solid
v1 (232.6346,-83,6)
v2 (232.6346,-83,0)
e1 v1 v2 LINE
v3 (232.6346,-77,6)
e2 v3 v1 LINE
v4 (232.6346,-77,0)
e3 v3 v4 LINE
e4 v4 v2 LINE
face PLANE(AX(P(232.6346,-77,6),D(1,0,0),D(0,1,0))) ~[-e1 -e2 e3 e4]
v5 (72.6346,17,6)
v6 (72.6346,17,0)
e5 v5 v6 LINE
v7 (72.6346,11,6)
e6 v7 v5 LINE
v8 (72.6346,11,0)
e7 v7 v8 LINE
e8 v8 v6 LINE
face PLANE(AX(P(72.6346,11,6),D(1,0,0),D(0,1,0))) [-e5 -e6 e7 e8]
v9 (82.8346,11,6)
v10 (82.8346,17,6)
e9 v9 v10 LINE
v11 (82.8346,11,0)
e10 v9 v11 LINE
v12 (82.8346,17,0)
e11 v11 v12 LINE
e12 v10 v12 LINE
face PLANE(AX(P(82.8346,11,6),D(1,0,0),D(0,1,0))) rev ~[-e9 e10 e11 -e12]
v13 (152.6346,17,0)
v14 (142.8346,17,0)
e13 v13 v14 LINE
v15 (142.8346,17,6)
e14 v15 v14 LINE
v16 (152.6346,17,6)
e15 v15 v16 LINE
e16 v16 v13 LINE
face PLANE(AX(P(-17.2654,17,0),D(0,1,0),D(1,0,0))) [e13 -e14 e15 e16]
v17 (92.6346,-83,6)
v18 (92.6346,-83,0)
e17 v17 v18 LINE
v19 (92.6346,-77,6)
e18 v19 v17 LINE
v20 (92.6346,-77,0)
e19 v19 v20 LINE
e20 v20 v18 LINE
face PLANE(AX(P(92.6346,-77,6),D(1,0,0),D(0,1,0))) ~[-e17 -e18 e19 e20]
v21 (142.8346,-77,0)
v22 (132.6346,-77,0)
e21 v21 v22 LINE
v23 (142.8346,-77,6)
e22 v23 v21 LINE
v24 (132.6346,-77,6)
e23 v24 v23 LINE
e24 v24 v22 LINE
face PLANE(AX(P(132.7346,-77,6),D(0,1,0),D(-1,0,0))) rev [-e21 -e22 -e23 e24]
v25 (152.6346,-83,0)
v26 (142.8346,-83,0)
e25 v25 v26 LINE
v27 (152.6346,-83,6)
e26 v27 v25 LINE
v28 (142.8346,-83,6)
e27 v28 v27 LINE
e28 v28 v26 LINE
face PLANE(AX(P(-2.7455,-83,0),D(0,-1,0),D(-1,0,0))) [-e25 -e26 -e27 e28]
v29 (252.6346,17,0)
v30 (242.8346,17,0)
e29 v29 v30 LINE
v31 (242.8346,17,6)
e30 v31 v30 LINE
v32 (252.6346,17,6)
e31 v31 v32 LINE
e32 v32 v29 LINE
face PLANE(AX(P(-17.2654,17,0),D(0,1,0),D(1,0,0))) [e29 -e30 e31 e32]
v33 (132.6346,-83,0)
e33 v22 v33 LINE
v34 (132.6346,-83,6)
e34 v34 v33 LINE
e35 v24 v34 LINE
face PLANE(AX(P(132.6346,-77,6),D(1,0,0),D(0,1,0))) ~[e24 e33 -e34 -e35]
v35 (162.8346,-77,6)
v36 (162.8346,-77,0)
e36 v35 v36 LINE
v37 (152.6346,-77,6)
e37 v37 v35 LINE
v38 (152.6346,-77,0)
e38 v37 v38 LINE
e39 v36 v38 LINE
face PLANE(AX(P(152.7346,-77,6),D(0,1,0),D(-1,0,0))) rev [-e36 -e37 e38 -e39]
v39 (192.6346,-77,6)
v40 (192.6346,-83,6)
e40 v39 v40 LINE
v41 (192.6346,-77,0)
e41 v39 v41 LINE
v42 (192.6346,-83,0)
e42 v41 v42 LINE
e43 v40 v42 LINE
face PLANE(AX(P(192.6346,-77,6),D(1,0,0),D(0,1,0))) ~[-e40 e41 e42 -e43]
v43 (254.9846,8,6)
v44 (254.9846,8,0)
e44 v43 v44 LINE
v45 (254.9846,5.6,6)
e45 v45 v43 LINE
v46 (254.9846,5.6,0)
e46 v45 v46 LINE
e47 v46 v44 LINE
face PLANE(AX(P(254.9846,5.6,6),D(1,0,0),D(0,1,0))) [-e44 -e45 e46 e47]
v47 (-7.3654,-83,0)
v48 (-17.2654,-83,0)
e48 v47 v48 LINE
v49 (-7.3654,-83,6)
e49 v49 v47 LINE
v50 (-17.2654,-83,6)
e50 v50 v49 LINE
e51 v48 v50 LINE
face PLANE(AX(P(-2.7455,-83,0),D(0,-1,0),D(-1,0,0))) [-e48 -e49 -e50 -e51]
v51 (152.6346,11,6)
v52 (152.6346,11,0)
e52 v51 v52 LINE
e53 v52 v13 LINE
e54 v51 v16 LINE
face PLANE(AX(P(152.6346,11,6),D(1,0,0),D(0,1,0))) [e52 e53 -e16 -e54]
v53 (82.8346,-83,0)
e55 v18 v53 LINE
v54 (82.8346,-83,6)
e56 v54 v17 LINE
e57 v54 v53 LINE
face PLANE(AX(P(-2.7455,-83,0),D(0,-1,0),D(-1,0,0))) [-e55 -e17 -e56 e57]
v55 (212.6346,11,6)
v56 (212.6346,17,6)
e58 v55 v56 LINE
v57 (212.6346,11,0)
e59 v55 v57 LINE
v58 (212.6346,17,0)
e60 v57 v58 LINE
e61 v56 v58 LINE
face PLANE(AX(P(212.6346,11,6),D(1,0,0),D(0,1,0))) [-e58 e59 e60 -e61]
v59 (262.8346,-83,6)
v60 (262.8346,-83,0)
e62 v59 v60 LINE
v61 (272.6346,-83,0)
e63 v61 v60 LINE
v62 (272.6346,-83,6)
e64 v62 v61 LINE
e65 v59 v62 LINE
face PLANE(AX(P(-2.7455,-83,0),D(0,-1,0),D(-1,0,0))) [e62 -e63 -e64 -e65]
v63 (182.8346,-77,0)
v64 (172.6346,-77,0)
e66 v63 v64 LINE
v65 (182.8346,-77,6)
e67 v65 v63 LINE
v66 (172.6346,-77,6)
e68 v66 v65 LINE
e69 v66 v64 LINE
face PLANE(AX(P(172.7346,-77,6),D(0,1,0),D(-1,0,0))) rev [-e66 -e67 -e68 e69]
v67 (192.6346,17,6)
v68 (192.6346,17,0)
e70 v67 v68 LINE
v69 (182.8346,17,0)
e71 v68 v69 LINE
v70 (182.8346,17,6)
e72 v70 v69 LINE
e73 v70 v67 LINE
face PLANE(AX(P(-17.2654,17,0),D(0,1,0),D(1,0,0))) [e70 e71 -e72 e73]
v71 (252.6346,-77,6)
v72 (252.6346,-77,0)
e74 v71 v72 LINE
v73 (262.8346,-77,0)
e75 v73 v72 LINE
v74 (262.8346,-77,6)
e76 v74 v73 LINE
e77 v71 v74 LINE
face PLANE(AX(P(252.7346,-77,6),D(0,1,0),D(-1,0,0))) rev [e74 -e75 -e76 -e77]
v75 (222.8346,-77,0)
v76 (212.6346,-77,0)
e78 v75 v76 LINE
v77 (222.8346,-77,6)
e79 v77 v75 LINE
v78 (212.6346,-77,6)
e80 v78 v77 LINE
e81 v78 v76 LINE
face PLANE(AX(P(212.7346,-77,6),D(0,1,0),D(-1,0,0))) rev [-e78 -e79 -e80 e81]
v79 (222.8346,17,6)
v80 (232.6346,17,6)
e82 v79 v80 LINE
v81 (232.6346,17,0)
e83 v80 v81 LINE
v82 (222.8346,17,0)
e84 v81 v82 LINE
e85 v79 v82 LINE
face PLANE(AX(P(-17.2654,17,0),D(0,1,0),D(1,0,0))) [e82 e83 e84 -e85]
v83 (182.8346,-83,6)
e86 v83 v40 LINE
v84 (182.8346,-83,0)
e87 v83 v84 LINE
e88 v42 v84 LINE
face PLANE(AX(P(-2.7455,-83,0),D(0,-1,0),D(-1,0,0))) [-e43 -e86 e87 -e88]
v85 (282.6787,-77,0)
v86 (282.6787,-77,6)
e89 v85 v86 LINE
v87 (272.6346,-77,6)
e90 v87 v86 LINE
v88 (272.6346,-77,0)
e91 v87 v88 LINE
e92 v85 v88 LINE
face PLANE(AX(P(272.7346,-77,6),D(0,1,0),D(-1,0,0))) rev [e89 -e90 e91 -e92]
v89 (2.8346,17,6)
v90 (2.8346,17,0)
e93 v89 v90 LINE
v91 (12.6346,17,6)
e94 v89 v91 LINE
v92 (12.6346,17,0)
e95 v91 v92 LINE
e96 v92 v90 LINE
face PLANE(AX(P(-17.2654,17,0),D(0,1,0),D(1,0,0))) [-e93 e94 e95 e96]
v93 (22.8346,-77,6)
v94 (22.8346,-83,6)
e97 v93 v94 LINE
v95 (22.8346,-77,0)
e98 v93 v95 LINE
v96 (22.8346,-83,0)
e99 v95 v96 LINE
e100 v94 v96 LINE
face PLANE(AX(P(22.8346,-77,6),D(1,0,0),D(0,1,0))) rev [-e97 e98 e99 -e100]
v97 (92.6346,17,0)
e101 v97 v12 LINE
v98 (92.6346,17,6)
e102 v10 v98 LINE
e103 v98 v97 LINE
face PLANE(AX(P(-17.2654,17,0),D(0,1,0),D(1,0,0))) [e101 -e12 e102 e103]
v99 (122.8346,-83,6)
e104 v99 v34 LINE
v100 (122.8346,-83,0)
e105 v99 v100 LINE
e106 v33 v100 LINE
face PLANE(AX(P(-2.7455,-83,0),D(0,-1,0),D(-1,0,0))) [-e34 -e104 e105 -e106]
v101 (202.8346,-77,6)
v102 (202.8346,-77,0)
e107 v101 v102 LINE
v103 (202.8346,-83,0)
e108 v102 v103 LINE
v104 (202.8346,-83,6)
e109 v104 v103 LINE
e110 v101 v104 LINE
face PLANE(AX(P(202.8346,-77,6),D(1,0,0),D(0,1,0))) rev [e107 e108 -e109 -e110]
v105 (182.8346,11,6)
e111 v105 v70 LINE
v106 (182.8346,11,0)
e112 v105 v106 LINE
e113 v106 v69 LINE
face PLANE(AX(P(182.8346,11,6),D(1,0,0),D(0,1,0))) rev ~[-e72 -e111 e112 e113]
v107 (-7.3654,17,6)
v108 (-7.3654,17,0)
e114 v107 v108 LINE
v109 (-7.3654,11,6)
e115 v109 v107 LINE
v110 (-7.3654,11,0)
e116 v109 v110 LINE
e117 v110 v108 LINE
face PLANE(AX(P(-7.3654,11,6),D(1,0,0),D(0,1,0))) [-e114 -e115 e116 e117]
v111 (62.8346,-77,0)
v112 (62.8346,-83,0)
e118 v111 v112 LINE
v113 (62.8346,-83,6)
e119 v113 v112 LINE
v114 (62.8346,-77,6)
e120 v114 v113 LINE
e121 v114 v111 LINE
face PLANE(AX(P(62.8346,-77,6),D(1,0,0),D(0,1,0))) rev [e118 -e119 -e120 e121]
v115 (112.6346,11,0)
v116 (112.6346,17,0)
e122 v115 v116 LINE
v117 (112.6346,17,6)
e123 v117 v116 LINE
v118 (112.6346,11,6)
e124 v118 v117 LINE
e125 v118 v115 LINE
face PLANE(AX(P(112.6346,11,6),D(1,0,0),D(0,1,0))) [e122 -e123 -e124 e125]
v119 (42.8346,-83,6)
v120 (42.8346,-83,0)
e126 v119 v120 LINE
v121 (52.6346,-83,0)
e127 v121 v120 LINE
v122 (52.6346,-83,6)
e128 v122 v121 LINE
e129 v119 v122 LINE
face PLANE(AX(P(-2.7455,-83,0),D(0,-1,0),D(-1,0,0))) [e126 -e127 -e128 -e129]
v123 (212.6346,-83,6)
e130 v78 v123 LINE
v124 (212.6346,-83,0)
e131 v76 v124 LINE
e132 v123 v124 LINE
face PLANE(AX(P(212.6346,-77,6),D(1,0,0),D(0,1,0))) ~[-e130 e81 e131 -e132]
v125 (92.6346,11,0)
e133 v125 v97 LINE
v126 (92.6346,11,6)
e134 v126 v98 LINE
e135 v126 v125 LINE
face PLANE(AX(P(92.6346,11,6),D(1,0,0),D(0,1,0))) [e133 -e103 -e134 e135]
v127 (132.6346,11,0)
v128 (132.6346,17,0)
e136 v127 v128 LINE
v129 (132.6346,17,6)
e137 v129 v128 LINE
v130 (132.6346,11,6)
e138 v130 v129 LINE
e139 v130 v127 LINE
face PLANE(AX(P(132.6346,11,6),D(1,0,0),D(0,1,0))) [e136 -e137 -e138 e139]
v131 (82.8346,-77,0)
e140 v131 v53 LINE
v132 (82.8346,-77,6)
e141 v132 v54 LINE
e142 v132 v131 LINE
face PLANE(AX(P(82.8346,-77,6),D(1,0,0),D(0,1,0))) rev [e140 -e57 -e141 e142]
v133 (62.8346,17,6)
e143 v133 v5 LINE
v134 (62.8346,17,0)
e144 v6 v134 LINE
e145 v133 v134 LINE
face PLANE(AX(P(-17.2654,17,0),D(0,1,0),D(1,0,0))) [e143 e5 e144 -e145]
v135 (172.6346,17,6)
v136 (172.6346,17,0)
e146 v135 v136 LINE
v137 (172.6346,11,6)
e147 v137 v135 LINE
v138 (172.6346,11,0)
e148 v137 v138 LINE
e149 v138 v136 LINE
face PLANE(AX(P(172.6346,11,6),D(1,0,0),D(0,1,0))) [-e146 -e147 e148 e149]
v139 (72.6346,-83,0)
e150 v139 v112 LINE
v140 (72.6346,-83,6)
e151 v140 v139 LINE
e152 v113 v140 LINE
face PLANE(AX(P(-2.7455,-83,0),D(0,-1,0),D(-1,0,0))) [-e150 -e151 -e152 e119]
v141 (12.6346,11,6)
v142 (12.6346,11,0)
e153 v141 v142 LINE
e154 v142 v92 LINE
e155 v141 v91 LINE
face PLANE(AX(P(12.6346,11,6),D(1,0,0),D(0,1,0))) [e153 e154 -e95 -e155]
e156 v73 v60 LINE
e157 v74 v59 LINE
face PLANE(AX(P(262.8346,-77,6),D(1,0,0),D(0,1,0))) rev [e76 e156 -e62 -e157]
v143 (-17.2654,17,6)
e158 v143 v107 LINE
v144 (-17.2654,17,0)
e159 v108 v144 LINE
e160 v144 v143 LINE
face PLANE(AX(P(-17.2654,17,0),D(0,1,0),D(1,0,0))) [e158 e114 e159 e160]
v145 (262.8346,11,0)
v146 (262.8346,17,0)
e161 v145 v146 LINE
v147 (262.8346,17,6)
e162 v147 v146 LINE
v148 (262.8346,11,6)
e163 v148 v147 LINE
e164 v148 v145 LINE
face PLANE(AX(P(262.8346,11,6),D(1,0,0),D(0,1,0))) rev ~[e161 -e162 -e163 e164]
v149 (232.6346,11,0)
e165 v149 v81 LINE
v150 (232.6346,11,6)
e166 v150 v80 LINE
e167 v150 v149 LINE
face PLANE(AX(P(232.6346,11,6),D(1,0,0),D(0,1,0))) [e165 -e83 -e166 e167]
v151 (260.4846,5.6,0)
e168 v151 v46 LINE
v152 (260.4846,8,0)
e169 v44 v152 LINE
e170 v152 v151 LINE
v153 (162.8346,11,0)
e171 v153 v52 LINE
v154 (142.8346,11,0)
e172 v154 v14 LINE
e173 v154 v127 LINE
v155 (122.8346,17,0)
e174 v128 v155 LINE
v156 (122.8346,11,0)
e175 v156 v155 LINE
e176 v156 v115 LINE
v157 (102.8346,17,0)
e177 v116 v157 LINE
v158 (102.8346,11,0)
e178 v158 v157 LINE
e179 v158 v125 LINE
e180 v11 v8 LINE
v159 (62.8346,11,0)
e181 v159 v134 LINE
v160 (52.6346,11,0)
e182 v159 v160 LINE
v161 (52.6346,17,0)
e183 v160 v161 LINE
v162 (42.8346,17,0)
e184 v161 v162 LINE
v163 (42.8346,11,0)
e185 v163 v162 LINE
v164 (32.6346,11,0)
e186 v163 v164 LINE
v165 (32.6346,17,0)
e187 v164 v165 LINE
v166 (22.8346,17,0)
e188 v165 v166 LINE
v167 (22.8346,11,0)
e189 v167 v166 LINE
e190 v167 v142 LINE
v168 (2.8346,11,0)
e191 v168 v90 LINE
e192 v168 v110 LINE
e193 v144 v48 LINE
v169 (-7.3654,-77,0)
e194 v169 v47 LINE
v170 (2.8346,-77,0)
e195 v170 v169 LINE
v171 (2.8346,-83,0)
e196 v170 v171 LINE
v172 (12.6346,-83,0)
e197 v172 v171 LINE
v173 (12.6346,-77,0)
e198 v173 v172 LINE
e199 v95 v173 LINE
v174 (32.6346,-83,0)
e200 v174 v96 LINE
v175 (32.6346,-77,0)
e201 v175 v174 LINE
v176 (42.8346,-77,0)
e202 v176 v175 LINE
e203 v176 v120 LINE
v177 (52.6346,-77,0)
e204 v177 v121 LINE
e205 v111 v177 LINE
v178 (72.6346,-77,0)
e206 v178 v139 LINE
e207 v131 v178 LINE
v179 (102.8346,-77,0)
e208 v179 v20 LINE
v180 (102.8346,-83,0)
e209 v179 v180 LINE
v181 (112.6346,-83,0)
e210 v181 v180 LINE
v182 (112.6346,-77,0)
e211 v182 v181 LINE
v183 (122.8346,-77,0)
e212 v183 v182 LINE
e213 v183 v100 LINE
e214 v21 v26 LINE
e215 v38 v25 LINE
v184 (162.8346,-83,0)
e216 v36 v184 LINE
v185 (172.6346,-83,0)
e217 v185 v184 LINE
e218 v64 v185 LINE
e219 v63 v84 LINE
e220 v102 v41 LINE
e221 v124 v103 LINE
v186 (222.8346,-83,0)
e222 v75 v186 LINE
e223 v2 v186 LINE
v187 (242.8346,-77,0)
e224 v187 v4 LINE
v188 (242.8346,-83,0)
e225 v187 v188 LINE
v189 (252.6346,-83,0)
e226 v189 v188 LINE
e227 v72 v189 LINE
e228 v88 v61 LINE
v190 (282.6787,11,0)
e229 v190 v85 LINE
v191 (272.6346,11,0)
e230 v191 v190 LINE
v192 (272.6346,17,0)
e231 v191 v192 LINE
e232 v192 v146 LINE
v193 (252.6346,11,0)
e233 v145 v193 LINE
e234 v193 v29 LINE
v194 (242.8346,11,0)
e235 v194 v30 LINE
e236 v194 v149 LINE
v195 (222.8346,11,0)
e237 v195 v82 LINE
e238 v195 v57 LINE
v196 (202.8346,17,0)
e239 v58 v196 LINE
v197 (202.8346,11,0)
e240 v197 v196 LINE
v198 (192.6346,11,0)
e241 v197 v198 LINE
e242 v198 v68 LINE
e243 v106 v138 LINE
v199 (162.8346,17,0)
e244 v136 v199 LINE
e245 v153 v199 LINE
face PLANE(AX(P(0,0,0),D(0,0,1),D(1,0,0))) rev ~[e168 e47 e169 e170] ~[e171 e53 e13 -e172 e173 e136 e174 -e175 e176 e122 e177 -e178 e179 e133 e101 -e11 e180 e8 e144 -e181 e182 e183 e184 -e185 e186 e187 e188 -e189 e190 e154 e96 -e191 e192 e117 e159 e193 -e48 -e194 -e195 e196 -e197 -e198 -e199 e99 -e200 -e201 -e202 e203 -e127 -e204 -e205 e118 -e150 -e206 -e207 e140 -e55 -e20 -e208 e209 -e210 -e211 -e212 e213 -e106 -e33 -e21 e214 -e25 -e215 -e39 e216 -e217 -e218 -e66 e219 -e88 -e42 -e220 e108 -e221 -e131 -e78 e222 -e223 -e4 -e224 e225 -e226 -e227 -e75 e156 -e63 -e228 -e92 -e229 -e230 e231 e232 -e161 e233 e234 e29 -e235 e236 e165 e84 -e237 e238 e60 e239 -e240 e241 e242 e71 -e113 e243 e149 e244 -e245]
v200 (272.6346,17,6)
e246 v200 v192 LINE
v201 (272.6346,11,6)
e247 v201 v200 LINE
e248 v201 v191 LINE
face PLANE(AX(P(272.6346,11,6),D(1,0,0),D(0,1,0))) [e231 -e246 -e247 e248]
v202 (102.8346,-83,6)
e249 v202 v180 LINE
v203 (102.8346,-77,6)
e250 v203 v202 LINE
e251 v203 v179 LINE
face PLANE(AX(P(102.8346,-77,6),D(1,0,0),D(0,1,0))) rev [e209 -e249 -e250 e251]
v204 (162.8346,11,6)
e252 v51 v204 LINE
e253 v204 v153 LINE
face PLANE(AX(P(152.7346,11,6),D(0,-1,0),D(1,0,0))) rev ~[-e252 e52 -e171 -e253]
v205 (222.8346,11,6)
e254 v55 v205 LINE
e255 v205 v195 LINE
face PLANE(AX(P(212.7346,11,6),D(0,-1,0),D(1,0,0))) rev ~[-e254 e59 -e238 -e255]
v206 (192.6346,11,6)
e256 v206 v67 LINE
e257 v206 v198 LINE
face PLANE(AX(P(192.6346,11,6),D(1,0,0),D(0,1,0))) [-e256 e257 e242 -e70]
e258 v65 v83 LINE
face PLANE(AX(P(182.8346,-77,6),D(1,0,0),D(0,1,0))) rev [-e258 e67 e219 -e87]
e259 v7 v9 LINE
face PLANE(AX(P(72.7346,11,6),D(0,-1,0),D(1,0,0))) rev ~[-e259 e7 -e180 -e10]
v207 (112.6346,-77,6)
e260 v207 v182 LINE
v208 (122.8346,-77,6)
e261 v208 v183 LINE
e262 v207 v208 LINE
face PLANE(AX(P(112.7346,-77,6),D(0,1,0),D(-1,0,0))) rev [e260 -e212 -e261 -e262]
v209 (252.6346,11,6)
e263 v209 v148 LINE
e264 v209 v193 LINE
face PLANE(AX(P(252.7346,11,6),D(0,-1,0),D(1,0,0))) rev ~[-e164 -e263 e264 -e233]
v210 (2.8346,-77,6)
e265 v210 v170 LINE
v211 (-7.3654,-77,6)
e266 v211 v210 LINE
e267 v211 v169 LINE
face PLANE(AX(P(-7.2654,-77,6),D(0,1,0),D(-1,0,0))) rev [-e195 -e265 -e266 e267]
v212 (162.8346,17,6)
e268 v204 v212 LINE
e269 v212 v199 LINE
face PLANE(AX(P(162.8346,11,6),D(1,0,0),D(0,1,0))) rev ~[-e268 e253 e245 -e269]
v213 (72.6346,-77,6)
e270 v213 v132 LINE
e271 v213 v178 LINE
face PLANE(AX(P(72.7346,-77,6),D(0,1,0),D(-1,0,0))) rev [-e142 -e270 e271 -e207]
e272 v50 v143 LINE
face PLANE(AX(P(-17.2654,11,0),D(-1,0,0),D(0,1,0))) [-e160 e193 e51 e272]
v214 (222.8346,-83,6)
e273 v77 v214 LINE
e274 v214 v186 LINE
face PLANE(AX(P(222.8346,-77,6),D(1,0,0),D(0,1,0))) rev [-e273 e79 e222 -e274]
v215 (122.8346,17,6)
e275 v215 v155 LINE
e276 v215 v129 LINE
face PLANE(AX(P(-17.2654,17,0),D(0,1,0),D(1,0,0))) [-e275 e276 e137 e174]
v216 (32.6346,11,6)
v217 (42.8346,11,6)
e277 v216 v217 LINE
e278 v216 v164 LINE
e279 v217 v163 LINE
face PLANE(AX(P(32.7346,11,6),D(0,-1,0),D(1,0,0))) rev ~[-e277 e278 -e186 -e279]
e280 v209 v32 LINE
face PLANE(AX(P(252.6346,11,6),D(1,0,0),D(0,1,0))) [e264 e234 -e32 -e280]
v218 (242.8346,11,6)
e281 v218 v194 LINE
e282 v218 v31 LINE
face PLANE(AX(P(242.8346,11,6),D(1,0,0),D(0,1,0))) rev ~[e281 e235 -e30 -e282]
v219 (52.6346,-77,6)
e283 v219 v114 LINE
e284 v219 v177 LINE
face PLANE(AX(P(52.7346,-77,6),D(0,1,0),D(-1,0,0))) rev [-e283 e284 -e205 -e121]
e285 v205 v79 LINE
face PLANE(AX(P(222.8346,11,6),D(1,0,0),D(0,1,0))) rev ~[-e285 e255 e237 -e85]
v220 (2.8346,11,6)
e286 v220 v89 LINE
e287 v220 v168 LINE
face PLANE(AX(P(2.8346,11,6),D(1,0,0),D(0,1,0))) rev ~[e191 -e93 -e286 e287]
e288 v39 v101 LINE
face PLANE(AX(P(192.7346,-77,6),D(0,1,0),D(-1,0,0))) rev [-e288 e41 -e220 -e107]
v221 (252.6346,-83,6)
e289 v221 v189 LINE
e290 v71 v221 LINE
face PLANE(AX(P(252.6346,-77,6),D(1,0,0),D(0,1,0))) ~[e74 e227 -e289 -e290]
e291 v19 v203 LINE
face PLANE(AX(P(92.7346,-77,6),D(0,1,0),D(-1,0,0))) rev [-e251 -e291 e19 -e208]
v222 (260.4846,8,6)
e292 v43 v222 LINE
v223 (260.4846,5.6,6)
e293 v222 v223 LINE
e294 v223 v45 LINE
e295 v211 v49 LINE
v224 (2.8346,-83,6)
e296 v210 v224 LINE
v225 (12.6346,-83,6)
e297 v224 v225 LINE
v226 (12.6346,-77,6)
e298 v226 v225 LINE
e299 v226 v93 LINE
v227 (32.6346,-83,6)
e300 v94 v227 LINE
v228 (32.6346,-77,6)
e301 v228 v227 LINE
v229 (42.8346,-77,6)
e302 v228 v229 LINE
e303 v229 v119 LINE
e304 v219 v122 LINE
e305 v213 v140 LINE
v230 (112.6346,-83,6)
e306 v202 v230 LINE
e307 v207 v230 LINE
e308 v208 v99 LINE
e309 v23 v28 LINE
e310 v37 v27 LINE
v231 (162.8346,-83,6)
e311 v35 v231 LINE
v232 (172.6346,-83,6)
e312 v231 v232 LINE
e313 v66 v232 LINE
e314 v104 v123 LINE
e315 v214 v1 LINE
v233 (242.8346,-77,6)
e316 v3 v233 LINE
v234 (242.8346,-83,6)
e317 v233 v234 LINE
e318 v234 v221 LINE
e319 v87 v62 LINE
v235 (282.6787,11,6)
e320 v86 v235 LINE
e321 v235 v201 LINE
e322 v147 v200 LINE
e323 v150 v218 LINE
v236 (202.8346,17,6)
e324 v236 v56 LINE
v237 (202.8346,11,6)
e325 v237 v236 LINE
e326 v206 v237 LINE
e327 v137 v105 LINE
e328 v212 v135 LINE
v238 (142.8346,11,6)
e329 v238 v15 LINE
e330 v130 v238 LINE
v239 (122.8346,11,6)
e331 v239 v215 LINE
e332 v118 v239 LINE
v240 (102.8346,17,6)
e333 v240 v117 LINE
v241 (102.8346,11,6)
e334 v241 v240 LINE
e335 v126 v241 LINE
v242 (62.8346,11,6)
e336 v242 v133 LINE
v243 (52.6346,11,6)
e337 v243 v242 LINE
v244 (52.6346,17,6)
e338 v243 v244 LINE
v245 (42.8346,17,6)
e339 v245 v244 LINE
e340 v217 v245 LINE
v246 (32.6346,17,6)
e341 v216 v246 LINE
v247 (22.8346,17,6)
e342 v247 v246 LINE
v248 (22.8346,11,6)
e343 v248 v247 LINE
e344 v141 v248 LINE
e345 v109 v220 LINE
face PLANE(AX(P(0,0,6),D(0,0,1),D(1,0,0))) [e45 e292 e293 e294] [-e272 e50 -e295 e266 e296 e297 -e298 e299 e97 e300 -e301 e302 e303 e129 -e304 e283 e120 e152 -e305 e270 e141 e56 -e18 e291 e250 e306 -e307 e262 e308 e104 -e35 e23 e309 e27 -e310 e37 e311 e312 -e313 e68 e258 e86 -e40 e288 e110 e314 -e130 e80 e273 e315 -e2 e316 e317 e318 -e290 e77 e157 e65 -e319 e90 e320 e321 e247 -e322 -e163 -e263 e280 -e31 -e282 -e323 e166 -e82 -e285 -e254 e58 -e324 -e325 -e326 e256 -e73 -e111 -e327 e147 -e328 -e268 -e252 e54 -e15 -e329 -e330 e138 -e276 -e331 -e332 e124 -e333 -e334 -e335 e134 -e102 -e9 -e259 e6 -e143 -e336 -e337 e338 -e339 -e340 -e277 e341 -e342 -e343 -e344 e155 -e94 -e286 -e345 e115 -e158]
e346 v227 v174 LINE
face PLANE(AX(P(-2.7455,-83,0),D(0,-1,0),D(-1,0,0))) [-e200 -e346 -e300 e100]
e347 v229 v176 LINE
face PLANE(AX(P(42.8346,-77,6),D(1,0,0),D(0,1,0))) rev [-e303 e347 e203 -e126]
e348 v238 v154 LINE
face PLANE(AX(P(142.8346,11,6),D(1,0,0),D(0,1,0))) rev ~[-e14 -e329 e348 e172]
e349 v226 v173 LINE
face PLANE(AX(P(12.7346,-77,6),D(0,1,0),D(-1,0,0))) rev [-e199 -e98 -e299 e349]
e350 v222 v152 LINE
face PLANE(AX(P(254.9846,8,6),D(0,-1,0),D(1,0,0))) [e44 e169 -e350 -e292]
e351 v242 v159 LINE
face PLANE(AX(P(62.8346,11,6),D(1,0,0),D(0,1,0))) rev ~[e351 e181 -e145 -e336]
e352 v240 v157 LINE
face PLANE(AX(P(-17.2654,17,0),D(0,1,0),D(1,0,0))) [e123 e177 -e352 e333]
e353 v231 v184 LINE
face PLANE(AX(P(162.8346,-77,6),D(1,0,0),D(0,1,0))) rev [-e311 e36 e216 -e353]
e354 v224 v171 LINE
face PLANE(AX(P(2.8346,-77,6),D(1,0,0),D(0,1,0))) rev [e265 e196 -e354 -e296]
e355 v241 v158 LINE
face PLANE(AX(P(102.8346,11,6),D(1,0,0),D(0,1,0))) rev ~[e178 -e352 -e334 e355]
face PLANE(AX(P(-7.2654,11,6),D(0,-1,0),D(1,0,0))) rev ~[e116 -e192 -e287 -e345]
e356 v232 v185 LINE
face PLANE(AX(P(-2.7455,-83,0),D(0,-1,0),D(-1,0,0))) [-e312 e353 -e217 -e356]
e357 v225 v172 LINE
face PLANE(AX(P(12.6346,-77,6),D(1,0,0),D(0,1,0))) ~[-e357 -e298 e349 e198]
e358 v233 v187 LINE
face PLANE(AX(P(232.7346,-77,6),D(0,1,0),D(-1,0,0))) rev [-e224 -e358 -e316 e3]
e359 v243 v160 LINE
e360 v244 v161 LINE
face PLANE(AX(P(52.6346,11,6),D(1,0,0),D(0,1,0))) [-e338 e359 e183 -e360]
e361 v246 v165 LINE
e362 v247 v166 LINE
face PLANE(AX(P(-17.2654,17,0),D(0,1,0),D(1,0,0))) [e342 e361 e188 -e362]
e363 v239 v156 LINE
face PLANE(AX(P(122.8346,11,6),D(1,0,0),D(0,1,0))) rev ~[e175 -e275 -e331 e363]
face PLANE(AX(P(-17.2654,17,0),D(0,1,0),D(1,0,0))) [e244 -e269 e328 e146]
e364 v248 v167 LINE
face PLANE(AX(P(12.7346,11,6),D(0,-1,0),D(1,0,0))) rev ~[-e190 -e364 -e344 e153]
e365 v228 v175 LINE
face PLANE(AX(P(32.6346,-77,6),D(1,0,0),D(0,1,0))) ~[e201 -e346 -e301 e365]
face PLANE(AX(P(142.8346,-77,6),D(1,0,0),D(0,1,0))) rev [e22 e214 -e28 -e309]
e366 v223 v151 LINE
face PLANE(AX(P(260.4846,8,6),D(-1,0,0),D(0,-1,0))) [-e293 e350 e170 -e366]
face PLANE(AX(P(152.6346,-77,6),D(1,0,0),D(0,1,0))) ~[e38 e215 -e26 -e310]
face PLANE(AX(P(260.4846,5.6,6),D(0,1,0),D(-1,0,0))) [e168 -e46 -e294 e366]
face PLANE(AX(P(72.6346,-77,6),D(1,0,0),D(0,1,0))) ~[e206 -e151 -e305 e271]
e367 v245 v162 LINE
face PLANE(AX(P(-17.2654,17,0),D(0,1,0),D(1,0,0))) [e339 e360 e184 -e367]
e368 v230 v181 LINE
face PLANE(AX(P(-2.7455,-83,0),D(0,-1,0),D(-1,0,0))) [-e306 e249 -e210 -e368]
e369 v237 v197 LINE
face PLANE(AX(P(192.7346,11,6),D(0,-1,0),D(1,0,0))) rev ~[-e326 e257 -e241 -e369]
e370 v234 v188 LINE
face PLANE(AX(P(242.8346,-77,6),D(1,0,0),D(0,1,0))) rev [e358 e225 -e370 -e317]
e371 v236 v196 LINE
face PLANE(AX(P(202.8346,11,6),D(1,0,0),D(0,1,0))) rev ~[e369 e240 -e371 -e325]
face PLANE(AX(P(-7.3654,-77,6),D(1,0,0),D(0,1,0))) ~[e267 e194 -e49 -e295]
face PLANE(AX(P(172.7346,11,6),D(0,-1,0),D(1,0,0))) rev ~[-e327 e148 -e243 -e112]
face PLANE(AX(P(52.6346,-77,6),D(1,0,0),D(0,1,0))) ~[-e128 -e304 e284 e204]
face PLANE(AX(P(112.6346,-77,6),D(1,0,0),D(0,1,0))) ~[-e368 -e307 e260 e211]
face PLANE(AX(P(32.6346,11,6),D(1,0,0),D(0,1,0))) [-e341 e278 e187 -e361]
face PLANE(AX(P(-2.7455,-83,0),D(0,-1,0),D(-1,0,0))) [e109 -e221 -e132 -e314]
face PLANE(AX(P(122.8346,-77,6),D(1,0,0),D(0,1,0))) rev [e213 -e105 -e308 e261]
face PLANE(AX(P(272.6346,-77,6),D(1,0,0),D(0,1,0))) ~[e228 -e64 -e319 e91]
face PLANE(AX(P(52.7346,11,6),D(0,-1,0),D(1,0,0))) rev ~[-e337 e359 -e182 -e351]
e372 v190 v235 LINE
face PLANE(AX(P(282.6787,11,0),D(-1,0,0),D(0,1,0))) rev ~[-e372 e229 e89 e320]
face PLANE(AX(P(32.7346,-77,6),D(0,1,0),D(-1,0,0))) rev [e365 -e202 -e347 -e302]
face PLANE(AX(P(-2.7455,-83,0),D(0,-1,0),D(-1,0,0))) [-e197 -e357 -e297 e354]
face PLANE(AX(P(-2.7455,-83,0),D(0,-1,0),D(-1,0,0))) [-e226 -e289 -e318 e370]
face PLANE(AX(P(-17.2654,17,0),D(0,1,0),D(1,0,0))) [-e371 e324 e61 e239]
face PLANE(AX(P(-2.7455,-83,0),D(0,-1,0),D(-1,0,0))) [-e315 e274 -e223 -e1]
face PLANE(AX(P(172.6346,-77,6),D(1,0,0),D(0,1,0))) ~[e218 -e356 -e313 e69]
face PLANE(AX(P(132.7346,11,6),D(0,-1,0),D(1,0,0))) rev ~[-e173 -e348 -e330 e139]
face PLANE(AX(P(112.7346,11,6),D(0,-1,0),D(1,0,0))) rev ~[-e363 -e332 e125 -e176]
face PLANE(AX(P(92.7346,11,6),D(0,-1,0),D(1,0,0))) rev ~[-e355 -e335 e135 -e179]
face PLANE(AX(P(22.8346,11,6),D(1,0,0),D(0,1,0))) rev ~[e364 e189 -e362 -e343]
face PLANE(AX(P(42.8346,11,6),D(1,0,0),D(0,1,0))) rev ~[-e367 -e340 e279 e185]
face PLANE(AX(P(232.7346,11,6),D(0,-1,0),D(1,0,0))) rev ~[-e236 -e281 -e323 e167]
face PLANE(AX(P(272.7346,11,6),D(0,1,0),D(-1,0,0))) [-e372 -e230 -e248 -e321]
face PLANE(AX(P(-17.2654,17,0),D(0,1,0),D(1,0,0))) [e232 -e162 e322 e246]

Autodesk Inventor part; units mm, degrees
ref_plane "YZ Plane" through (0, 0, 0) normal (1, 0, 0) x (0, 1, 0)
ref_plane "XZ Plane" through (0, 0, 0) normal (0, 1, 0) x (-1, 0, 0)
ref_plane "XY Plane" through (0, 0, 0) normal (0, 0, 1) x (1, 0, 0)
sketch "Sketch1" plane through (0, 0, 0) normal (0, 0, 1) x (1, 0, 0)
  line L0 (-17.2654, 11) -> (-17.2654, 17) projected
  line L1 (282.6787, 11) -> (282.6787, 17) projected
  line L2 (282.6787, 17) -> (-2.7455, 17)
  line L3 (-2.7455, 17) -> (-2.7455, -83)
  line L4 (-2.7455, -83) -> (282.6787, -83)
  line L5 (282.6787, -83) -> (282.6787, 17)
  line L6 (-17.2654, 17) -> (-2.7455, 17)
  line L7 (-2.7455, 17) -> (-2.7455, -83)
  line L8 (-2.7455, -83) -> (-17.2654, -83)
  line L9 (-17.2654, -83) -> (-17.2654, 17)
  point P0 (0, 0)
  point P1 (-10, 6)
  point P2 (-10, 0)
  point P3 (-2.7455, 17)
  dimension "d0" = 100
extrude "Extrusion1" add sketch "Sketch1" along normal blind 6
sketch "Sketch2" plane through (0, 0, 6) normal (0, 0, 1) x (1, 0, 0)
  line L0 (282.6787, 11) -> (282.6787, 17)
  line L1 (272.7346, 17) -> (272.7346, 11) projected
  line L2 (272.7346, 11) -> (282.6787, 11)
  line L3 (262.7346, 11) -> (262.7346, 17) projected
  line L4 (252.7346, 11) -> (262.7346, 11) projected
  line L5 (252.7346, 17) -> (252.7346, 11) projected
  line L6 (272.7346, 11) -> (272.6346, 11)
  line L7 (272.6346, 11) -> (272.6346, 17)
  line L8 (272.6346, 17) -> (272.7346, 17)
  line L9 (272.7346, 17) -> (272.7346, 11)
  line L10 (282.6787, -83) -> (282.6787, 17) projected
  line L11 (282.6787, 17) -> (-17.2654, 17) projected
  line L12 (282.6787, 17) -> (272.7346, 17)
  point P0 (0, 0)
  point P1 (272.7346, 17)
  dimension "d3" = 0.1
  dimension "d4" = 6
extrude "Extrusion2" cut sketch "Sketch2" against normal blind 6 contours L6 L7 L8 L1
sketch "Sketch3" plane through (0, 0, 6) normal (0, 0, 1) x (1, 0, 0)
  line L0 (252.7346, 17) -> (252.7346, 11) projected
  line L1 (262.7346, 11) -> (262.7346, 17) projected
  line L2 (252.7346, 17) -> (262.7346, 17) projected
  line L3 (252.7346, 17) -> (252.7346, 11) projected
  line L4 (252.7346, 11) -> (262.7346, 11) projected
  line L5 (262.7346, 11) -> (262.8346, 11)
  line L6 (262.8346, 11) -> (262.8346, 17)
  line L7 (262.8346, 17) -> (262.7346, 17)
  line L8 (262.7346, 17) -> (262.7346, 11)
  line L9 (252.7346, 11) -> (252.6346, 11)
  line L10 (252.6346, 11) -> (252.6346, 17)
  line L11 (252.6346, 17) -> (252.7346, 17)
  line L12 (252.7346, 17) -> (252.7346, 11)
  point P0 (0, 0)
  dimension "d11" = 0.1
  dimension "d12" = 6
  dimension "d13" = 0.1
  dimension "d14" = 6
extrude "Extrusion3" cut sketch "Sketch3" against normal blind 6
pattern_linear "Rectangular Pattern1" count 14 spacing 20 along (-1, 0, 0) of "Extrusion3"
ref_plane "Work Plane1" through (-17.2654, -33, 0) normal (0, -1, 0) x (1, 0, 0)
mirror "Mirror1" about plane through (-17.2654, -33, 0) normal (0, -1, 0) of "Extrusion3"
pattern_linear "Rectangular Pattern2" count 14 spacing 20 along (-1, 0, 0) count 2 spacing 20 along (1, 0, 0) of "Extrusion3", "Mirror1"
sketch "Sketch4" plane through (0, 0, 6) normal (0, 0, 1) x (1, 0, 0)
  line L0 (280.4846, 6.6) -> (274.9846, 6.6)
  line L1 (274.9846, 6.6) -> (274.9846, 9)
  line L2 (274.9846, 9) -> (280.4846, 9)
  line L3 (280.4846, 9) -> (280.4846, 6.6)
  line L4 (272.6346, 11) -> (272.6346, 17) projected
  line L5 (282.6787, 17) -> (-17.2654, 17) projected
  line L6 (260.4846, 5.6) -> (254.9846, 5.6)
  line L7 (254.9846, 5.6) -> (254.9846, 8)
  line L8 (254.9846, 8) -> (260.4846, 8)
  line L9 (260.4846, 8) -> (260.4846, 5.6)
  line L10 (262.8346, 11) -> (252.6346, 11) projected
  line L11 (252.6346, 11) -> (252.6346, 17) projected
  point P0 (0, 0)
  point P1 (262.8346, 17)
  dimension "d26" = 5.5
  dimension "d27" = 2.4
  dimension "d28" = 2.35
  dimension "d29" = 8
  dimension "d32" = 5.5
  dimension "d33" = 2.4
  dimension "d34" = 3
  dimension "d35" = 2.35
extrude "Extrusion4" cut sketch "Sketch4" against normal through all contours L6 L7 L8 L9
pattern_linear "Rectangular Pattern3" [suppressed]
properties part number "00_Baseplate_Simmo_side4_v2"
